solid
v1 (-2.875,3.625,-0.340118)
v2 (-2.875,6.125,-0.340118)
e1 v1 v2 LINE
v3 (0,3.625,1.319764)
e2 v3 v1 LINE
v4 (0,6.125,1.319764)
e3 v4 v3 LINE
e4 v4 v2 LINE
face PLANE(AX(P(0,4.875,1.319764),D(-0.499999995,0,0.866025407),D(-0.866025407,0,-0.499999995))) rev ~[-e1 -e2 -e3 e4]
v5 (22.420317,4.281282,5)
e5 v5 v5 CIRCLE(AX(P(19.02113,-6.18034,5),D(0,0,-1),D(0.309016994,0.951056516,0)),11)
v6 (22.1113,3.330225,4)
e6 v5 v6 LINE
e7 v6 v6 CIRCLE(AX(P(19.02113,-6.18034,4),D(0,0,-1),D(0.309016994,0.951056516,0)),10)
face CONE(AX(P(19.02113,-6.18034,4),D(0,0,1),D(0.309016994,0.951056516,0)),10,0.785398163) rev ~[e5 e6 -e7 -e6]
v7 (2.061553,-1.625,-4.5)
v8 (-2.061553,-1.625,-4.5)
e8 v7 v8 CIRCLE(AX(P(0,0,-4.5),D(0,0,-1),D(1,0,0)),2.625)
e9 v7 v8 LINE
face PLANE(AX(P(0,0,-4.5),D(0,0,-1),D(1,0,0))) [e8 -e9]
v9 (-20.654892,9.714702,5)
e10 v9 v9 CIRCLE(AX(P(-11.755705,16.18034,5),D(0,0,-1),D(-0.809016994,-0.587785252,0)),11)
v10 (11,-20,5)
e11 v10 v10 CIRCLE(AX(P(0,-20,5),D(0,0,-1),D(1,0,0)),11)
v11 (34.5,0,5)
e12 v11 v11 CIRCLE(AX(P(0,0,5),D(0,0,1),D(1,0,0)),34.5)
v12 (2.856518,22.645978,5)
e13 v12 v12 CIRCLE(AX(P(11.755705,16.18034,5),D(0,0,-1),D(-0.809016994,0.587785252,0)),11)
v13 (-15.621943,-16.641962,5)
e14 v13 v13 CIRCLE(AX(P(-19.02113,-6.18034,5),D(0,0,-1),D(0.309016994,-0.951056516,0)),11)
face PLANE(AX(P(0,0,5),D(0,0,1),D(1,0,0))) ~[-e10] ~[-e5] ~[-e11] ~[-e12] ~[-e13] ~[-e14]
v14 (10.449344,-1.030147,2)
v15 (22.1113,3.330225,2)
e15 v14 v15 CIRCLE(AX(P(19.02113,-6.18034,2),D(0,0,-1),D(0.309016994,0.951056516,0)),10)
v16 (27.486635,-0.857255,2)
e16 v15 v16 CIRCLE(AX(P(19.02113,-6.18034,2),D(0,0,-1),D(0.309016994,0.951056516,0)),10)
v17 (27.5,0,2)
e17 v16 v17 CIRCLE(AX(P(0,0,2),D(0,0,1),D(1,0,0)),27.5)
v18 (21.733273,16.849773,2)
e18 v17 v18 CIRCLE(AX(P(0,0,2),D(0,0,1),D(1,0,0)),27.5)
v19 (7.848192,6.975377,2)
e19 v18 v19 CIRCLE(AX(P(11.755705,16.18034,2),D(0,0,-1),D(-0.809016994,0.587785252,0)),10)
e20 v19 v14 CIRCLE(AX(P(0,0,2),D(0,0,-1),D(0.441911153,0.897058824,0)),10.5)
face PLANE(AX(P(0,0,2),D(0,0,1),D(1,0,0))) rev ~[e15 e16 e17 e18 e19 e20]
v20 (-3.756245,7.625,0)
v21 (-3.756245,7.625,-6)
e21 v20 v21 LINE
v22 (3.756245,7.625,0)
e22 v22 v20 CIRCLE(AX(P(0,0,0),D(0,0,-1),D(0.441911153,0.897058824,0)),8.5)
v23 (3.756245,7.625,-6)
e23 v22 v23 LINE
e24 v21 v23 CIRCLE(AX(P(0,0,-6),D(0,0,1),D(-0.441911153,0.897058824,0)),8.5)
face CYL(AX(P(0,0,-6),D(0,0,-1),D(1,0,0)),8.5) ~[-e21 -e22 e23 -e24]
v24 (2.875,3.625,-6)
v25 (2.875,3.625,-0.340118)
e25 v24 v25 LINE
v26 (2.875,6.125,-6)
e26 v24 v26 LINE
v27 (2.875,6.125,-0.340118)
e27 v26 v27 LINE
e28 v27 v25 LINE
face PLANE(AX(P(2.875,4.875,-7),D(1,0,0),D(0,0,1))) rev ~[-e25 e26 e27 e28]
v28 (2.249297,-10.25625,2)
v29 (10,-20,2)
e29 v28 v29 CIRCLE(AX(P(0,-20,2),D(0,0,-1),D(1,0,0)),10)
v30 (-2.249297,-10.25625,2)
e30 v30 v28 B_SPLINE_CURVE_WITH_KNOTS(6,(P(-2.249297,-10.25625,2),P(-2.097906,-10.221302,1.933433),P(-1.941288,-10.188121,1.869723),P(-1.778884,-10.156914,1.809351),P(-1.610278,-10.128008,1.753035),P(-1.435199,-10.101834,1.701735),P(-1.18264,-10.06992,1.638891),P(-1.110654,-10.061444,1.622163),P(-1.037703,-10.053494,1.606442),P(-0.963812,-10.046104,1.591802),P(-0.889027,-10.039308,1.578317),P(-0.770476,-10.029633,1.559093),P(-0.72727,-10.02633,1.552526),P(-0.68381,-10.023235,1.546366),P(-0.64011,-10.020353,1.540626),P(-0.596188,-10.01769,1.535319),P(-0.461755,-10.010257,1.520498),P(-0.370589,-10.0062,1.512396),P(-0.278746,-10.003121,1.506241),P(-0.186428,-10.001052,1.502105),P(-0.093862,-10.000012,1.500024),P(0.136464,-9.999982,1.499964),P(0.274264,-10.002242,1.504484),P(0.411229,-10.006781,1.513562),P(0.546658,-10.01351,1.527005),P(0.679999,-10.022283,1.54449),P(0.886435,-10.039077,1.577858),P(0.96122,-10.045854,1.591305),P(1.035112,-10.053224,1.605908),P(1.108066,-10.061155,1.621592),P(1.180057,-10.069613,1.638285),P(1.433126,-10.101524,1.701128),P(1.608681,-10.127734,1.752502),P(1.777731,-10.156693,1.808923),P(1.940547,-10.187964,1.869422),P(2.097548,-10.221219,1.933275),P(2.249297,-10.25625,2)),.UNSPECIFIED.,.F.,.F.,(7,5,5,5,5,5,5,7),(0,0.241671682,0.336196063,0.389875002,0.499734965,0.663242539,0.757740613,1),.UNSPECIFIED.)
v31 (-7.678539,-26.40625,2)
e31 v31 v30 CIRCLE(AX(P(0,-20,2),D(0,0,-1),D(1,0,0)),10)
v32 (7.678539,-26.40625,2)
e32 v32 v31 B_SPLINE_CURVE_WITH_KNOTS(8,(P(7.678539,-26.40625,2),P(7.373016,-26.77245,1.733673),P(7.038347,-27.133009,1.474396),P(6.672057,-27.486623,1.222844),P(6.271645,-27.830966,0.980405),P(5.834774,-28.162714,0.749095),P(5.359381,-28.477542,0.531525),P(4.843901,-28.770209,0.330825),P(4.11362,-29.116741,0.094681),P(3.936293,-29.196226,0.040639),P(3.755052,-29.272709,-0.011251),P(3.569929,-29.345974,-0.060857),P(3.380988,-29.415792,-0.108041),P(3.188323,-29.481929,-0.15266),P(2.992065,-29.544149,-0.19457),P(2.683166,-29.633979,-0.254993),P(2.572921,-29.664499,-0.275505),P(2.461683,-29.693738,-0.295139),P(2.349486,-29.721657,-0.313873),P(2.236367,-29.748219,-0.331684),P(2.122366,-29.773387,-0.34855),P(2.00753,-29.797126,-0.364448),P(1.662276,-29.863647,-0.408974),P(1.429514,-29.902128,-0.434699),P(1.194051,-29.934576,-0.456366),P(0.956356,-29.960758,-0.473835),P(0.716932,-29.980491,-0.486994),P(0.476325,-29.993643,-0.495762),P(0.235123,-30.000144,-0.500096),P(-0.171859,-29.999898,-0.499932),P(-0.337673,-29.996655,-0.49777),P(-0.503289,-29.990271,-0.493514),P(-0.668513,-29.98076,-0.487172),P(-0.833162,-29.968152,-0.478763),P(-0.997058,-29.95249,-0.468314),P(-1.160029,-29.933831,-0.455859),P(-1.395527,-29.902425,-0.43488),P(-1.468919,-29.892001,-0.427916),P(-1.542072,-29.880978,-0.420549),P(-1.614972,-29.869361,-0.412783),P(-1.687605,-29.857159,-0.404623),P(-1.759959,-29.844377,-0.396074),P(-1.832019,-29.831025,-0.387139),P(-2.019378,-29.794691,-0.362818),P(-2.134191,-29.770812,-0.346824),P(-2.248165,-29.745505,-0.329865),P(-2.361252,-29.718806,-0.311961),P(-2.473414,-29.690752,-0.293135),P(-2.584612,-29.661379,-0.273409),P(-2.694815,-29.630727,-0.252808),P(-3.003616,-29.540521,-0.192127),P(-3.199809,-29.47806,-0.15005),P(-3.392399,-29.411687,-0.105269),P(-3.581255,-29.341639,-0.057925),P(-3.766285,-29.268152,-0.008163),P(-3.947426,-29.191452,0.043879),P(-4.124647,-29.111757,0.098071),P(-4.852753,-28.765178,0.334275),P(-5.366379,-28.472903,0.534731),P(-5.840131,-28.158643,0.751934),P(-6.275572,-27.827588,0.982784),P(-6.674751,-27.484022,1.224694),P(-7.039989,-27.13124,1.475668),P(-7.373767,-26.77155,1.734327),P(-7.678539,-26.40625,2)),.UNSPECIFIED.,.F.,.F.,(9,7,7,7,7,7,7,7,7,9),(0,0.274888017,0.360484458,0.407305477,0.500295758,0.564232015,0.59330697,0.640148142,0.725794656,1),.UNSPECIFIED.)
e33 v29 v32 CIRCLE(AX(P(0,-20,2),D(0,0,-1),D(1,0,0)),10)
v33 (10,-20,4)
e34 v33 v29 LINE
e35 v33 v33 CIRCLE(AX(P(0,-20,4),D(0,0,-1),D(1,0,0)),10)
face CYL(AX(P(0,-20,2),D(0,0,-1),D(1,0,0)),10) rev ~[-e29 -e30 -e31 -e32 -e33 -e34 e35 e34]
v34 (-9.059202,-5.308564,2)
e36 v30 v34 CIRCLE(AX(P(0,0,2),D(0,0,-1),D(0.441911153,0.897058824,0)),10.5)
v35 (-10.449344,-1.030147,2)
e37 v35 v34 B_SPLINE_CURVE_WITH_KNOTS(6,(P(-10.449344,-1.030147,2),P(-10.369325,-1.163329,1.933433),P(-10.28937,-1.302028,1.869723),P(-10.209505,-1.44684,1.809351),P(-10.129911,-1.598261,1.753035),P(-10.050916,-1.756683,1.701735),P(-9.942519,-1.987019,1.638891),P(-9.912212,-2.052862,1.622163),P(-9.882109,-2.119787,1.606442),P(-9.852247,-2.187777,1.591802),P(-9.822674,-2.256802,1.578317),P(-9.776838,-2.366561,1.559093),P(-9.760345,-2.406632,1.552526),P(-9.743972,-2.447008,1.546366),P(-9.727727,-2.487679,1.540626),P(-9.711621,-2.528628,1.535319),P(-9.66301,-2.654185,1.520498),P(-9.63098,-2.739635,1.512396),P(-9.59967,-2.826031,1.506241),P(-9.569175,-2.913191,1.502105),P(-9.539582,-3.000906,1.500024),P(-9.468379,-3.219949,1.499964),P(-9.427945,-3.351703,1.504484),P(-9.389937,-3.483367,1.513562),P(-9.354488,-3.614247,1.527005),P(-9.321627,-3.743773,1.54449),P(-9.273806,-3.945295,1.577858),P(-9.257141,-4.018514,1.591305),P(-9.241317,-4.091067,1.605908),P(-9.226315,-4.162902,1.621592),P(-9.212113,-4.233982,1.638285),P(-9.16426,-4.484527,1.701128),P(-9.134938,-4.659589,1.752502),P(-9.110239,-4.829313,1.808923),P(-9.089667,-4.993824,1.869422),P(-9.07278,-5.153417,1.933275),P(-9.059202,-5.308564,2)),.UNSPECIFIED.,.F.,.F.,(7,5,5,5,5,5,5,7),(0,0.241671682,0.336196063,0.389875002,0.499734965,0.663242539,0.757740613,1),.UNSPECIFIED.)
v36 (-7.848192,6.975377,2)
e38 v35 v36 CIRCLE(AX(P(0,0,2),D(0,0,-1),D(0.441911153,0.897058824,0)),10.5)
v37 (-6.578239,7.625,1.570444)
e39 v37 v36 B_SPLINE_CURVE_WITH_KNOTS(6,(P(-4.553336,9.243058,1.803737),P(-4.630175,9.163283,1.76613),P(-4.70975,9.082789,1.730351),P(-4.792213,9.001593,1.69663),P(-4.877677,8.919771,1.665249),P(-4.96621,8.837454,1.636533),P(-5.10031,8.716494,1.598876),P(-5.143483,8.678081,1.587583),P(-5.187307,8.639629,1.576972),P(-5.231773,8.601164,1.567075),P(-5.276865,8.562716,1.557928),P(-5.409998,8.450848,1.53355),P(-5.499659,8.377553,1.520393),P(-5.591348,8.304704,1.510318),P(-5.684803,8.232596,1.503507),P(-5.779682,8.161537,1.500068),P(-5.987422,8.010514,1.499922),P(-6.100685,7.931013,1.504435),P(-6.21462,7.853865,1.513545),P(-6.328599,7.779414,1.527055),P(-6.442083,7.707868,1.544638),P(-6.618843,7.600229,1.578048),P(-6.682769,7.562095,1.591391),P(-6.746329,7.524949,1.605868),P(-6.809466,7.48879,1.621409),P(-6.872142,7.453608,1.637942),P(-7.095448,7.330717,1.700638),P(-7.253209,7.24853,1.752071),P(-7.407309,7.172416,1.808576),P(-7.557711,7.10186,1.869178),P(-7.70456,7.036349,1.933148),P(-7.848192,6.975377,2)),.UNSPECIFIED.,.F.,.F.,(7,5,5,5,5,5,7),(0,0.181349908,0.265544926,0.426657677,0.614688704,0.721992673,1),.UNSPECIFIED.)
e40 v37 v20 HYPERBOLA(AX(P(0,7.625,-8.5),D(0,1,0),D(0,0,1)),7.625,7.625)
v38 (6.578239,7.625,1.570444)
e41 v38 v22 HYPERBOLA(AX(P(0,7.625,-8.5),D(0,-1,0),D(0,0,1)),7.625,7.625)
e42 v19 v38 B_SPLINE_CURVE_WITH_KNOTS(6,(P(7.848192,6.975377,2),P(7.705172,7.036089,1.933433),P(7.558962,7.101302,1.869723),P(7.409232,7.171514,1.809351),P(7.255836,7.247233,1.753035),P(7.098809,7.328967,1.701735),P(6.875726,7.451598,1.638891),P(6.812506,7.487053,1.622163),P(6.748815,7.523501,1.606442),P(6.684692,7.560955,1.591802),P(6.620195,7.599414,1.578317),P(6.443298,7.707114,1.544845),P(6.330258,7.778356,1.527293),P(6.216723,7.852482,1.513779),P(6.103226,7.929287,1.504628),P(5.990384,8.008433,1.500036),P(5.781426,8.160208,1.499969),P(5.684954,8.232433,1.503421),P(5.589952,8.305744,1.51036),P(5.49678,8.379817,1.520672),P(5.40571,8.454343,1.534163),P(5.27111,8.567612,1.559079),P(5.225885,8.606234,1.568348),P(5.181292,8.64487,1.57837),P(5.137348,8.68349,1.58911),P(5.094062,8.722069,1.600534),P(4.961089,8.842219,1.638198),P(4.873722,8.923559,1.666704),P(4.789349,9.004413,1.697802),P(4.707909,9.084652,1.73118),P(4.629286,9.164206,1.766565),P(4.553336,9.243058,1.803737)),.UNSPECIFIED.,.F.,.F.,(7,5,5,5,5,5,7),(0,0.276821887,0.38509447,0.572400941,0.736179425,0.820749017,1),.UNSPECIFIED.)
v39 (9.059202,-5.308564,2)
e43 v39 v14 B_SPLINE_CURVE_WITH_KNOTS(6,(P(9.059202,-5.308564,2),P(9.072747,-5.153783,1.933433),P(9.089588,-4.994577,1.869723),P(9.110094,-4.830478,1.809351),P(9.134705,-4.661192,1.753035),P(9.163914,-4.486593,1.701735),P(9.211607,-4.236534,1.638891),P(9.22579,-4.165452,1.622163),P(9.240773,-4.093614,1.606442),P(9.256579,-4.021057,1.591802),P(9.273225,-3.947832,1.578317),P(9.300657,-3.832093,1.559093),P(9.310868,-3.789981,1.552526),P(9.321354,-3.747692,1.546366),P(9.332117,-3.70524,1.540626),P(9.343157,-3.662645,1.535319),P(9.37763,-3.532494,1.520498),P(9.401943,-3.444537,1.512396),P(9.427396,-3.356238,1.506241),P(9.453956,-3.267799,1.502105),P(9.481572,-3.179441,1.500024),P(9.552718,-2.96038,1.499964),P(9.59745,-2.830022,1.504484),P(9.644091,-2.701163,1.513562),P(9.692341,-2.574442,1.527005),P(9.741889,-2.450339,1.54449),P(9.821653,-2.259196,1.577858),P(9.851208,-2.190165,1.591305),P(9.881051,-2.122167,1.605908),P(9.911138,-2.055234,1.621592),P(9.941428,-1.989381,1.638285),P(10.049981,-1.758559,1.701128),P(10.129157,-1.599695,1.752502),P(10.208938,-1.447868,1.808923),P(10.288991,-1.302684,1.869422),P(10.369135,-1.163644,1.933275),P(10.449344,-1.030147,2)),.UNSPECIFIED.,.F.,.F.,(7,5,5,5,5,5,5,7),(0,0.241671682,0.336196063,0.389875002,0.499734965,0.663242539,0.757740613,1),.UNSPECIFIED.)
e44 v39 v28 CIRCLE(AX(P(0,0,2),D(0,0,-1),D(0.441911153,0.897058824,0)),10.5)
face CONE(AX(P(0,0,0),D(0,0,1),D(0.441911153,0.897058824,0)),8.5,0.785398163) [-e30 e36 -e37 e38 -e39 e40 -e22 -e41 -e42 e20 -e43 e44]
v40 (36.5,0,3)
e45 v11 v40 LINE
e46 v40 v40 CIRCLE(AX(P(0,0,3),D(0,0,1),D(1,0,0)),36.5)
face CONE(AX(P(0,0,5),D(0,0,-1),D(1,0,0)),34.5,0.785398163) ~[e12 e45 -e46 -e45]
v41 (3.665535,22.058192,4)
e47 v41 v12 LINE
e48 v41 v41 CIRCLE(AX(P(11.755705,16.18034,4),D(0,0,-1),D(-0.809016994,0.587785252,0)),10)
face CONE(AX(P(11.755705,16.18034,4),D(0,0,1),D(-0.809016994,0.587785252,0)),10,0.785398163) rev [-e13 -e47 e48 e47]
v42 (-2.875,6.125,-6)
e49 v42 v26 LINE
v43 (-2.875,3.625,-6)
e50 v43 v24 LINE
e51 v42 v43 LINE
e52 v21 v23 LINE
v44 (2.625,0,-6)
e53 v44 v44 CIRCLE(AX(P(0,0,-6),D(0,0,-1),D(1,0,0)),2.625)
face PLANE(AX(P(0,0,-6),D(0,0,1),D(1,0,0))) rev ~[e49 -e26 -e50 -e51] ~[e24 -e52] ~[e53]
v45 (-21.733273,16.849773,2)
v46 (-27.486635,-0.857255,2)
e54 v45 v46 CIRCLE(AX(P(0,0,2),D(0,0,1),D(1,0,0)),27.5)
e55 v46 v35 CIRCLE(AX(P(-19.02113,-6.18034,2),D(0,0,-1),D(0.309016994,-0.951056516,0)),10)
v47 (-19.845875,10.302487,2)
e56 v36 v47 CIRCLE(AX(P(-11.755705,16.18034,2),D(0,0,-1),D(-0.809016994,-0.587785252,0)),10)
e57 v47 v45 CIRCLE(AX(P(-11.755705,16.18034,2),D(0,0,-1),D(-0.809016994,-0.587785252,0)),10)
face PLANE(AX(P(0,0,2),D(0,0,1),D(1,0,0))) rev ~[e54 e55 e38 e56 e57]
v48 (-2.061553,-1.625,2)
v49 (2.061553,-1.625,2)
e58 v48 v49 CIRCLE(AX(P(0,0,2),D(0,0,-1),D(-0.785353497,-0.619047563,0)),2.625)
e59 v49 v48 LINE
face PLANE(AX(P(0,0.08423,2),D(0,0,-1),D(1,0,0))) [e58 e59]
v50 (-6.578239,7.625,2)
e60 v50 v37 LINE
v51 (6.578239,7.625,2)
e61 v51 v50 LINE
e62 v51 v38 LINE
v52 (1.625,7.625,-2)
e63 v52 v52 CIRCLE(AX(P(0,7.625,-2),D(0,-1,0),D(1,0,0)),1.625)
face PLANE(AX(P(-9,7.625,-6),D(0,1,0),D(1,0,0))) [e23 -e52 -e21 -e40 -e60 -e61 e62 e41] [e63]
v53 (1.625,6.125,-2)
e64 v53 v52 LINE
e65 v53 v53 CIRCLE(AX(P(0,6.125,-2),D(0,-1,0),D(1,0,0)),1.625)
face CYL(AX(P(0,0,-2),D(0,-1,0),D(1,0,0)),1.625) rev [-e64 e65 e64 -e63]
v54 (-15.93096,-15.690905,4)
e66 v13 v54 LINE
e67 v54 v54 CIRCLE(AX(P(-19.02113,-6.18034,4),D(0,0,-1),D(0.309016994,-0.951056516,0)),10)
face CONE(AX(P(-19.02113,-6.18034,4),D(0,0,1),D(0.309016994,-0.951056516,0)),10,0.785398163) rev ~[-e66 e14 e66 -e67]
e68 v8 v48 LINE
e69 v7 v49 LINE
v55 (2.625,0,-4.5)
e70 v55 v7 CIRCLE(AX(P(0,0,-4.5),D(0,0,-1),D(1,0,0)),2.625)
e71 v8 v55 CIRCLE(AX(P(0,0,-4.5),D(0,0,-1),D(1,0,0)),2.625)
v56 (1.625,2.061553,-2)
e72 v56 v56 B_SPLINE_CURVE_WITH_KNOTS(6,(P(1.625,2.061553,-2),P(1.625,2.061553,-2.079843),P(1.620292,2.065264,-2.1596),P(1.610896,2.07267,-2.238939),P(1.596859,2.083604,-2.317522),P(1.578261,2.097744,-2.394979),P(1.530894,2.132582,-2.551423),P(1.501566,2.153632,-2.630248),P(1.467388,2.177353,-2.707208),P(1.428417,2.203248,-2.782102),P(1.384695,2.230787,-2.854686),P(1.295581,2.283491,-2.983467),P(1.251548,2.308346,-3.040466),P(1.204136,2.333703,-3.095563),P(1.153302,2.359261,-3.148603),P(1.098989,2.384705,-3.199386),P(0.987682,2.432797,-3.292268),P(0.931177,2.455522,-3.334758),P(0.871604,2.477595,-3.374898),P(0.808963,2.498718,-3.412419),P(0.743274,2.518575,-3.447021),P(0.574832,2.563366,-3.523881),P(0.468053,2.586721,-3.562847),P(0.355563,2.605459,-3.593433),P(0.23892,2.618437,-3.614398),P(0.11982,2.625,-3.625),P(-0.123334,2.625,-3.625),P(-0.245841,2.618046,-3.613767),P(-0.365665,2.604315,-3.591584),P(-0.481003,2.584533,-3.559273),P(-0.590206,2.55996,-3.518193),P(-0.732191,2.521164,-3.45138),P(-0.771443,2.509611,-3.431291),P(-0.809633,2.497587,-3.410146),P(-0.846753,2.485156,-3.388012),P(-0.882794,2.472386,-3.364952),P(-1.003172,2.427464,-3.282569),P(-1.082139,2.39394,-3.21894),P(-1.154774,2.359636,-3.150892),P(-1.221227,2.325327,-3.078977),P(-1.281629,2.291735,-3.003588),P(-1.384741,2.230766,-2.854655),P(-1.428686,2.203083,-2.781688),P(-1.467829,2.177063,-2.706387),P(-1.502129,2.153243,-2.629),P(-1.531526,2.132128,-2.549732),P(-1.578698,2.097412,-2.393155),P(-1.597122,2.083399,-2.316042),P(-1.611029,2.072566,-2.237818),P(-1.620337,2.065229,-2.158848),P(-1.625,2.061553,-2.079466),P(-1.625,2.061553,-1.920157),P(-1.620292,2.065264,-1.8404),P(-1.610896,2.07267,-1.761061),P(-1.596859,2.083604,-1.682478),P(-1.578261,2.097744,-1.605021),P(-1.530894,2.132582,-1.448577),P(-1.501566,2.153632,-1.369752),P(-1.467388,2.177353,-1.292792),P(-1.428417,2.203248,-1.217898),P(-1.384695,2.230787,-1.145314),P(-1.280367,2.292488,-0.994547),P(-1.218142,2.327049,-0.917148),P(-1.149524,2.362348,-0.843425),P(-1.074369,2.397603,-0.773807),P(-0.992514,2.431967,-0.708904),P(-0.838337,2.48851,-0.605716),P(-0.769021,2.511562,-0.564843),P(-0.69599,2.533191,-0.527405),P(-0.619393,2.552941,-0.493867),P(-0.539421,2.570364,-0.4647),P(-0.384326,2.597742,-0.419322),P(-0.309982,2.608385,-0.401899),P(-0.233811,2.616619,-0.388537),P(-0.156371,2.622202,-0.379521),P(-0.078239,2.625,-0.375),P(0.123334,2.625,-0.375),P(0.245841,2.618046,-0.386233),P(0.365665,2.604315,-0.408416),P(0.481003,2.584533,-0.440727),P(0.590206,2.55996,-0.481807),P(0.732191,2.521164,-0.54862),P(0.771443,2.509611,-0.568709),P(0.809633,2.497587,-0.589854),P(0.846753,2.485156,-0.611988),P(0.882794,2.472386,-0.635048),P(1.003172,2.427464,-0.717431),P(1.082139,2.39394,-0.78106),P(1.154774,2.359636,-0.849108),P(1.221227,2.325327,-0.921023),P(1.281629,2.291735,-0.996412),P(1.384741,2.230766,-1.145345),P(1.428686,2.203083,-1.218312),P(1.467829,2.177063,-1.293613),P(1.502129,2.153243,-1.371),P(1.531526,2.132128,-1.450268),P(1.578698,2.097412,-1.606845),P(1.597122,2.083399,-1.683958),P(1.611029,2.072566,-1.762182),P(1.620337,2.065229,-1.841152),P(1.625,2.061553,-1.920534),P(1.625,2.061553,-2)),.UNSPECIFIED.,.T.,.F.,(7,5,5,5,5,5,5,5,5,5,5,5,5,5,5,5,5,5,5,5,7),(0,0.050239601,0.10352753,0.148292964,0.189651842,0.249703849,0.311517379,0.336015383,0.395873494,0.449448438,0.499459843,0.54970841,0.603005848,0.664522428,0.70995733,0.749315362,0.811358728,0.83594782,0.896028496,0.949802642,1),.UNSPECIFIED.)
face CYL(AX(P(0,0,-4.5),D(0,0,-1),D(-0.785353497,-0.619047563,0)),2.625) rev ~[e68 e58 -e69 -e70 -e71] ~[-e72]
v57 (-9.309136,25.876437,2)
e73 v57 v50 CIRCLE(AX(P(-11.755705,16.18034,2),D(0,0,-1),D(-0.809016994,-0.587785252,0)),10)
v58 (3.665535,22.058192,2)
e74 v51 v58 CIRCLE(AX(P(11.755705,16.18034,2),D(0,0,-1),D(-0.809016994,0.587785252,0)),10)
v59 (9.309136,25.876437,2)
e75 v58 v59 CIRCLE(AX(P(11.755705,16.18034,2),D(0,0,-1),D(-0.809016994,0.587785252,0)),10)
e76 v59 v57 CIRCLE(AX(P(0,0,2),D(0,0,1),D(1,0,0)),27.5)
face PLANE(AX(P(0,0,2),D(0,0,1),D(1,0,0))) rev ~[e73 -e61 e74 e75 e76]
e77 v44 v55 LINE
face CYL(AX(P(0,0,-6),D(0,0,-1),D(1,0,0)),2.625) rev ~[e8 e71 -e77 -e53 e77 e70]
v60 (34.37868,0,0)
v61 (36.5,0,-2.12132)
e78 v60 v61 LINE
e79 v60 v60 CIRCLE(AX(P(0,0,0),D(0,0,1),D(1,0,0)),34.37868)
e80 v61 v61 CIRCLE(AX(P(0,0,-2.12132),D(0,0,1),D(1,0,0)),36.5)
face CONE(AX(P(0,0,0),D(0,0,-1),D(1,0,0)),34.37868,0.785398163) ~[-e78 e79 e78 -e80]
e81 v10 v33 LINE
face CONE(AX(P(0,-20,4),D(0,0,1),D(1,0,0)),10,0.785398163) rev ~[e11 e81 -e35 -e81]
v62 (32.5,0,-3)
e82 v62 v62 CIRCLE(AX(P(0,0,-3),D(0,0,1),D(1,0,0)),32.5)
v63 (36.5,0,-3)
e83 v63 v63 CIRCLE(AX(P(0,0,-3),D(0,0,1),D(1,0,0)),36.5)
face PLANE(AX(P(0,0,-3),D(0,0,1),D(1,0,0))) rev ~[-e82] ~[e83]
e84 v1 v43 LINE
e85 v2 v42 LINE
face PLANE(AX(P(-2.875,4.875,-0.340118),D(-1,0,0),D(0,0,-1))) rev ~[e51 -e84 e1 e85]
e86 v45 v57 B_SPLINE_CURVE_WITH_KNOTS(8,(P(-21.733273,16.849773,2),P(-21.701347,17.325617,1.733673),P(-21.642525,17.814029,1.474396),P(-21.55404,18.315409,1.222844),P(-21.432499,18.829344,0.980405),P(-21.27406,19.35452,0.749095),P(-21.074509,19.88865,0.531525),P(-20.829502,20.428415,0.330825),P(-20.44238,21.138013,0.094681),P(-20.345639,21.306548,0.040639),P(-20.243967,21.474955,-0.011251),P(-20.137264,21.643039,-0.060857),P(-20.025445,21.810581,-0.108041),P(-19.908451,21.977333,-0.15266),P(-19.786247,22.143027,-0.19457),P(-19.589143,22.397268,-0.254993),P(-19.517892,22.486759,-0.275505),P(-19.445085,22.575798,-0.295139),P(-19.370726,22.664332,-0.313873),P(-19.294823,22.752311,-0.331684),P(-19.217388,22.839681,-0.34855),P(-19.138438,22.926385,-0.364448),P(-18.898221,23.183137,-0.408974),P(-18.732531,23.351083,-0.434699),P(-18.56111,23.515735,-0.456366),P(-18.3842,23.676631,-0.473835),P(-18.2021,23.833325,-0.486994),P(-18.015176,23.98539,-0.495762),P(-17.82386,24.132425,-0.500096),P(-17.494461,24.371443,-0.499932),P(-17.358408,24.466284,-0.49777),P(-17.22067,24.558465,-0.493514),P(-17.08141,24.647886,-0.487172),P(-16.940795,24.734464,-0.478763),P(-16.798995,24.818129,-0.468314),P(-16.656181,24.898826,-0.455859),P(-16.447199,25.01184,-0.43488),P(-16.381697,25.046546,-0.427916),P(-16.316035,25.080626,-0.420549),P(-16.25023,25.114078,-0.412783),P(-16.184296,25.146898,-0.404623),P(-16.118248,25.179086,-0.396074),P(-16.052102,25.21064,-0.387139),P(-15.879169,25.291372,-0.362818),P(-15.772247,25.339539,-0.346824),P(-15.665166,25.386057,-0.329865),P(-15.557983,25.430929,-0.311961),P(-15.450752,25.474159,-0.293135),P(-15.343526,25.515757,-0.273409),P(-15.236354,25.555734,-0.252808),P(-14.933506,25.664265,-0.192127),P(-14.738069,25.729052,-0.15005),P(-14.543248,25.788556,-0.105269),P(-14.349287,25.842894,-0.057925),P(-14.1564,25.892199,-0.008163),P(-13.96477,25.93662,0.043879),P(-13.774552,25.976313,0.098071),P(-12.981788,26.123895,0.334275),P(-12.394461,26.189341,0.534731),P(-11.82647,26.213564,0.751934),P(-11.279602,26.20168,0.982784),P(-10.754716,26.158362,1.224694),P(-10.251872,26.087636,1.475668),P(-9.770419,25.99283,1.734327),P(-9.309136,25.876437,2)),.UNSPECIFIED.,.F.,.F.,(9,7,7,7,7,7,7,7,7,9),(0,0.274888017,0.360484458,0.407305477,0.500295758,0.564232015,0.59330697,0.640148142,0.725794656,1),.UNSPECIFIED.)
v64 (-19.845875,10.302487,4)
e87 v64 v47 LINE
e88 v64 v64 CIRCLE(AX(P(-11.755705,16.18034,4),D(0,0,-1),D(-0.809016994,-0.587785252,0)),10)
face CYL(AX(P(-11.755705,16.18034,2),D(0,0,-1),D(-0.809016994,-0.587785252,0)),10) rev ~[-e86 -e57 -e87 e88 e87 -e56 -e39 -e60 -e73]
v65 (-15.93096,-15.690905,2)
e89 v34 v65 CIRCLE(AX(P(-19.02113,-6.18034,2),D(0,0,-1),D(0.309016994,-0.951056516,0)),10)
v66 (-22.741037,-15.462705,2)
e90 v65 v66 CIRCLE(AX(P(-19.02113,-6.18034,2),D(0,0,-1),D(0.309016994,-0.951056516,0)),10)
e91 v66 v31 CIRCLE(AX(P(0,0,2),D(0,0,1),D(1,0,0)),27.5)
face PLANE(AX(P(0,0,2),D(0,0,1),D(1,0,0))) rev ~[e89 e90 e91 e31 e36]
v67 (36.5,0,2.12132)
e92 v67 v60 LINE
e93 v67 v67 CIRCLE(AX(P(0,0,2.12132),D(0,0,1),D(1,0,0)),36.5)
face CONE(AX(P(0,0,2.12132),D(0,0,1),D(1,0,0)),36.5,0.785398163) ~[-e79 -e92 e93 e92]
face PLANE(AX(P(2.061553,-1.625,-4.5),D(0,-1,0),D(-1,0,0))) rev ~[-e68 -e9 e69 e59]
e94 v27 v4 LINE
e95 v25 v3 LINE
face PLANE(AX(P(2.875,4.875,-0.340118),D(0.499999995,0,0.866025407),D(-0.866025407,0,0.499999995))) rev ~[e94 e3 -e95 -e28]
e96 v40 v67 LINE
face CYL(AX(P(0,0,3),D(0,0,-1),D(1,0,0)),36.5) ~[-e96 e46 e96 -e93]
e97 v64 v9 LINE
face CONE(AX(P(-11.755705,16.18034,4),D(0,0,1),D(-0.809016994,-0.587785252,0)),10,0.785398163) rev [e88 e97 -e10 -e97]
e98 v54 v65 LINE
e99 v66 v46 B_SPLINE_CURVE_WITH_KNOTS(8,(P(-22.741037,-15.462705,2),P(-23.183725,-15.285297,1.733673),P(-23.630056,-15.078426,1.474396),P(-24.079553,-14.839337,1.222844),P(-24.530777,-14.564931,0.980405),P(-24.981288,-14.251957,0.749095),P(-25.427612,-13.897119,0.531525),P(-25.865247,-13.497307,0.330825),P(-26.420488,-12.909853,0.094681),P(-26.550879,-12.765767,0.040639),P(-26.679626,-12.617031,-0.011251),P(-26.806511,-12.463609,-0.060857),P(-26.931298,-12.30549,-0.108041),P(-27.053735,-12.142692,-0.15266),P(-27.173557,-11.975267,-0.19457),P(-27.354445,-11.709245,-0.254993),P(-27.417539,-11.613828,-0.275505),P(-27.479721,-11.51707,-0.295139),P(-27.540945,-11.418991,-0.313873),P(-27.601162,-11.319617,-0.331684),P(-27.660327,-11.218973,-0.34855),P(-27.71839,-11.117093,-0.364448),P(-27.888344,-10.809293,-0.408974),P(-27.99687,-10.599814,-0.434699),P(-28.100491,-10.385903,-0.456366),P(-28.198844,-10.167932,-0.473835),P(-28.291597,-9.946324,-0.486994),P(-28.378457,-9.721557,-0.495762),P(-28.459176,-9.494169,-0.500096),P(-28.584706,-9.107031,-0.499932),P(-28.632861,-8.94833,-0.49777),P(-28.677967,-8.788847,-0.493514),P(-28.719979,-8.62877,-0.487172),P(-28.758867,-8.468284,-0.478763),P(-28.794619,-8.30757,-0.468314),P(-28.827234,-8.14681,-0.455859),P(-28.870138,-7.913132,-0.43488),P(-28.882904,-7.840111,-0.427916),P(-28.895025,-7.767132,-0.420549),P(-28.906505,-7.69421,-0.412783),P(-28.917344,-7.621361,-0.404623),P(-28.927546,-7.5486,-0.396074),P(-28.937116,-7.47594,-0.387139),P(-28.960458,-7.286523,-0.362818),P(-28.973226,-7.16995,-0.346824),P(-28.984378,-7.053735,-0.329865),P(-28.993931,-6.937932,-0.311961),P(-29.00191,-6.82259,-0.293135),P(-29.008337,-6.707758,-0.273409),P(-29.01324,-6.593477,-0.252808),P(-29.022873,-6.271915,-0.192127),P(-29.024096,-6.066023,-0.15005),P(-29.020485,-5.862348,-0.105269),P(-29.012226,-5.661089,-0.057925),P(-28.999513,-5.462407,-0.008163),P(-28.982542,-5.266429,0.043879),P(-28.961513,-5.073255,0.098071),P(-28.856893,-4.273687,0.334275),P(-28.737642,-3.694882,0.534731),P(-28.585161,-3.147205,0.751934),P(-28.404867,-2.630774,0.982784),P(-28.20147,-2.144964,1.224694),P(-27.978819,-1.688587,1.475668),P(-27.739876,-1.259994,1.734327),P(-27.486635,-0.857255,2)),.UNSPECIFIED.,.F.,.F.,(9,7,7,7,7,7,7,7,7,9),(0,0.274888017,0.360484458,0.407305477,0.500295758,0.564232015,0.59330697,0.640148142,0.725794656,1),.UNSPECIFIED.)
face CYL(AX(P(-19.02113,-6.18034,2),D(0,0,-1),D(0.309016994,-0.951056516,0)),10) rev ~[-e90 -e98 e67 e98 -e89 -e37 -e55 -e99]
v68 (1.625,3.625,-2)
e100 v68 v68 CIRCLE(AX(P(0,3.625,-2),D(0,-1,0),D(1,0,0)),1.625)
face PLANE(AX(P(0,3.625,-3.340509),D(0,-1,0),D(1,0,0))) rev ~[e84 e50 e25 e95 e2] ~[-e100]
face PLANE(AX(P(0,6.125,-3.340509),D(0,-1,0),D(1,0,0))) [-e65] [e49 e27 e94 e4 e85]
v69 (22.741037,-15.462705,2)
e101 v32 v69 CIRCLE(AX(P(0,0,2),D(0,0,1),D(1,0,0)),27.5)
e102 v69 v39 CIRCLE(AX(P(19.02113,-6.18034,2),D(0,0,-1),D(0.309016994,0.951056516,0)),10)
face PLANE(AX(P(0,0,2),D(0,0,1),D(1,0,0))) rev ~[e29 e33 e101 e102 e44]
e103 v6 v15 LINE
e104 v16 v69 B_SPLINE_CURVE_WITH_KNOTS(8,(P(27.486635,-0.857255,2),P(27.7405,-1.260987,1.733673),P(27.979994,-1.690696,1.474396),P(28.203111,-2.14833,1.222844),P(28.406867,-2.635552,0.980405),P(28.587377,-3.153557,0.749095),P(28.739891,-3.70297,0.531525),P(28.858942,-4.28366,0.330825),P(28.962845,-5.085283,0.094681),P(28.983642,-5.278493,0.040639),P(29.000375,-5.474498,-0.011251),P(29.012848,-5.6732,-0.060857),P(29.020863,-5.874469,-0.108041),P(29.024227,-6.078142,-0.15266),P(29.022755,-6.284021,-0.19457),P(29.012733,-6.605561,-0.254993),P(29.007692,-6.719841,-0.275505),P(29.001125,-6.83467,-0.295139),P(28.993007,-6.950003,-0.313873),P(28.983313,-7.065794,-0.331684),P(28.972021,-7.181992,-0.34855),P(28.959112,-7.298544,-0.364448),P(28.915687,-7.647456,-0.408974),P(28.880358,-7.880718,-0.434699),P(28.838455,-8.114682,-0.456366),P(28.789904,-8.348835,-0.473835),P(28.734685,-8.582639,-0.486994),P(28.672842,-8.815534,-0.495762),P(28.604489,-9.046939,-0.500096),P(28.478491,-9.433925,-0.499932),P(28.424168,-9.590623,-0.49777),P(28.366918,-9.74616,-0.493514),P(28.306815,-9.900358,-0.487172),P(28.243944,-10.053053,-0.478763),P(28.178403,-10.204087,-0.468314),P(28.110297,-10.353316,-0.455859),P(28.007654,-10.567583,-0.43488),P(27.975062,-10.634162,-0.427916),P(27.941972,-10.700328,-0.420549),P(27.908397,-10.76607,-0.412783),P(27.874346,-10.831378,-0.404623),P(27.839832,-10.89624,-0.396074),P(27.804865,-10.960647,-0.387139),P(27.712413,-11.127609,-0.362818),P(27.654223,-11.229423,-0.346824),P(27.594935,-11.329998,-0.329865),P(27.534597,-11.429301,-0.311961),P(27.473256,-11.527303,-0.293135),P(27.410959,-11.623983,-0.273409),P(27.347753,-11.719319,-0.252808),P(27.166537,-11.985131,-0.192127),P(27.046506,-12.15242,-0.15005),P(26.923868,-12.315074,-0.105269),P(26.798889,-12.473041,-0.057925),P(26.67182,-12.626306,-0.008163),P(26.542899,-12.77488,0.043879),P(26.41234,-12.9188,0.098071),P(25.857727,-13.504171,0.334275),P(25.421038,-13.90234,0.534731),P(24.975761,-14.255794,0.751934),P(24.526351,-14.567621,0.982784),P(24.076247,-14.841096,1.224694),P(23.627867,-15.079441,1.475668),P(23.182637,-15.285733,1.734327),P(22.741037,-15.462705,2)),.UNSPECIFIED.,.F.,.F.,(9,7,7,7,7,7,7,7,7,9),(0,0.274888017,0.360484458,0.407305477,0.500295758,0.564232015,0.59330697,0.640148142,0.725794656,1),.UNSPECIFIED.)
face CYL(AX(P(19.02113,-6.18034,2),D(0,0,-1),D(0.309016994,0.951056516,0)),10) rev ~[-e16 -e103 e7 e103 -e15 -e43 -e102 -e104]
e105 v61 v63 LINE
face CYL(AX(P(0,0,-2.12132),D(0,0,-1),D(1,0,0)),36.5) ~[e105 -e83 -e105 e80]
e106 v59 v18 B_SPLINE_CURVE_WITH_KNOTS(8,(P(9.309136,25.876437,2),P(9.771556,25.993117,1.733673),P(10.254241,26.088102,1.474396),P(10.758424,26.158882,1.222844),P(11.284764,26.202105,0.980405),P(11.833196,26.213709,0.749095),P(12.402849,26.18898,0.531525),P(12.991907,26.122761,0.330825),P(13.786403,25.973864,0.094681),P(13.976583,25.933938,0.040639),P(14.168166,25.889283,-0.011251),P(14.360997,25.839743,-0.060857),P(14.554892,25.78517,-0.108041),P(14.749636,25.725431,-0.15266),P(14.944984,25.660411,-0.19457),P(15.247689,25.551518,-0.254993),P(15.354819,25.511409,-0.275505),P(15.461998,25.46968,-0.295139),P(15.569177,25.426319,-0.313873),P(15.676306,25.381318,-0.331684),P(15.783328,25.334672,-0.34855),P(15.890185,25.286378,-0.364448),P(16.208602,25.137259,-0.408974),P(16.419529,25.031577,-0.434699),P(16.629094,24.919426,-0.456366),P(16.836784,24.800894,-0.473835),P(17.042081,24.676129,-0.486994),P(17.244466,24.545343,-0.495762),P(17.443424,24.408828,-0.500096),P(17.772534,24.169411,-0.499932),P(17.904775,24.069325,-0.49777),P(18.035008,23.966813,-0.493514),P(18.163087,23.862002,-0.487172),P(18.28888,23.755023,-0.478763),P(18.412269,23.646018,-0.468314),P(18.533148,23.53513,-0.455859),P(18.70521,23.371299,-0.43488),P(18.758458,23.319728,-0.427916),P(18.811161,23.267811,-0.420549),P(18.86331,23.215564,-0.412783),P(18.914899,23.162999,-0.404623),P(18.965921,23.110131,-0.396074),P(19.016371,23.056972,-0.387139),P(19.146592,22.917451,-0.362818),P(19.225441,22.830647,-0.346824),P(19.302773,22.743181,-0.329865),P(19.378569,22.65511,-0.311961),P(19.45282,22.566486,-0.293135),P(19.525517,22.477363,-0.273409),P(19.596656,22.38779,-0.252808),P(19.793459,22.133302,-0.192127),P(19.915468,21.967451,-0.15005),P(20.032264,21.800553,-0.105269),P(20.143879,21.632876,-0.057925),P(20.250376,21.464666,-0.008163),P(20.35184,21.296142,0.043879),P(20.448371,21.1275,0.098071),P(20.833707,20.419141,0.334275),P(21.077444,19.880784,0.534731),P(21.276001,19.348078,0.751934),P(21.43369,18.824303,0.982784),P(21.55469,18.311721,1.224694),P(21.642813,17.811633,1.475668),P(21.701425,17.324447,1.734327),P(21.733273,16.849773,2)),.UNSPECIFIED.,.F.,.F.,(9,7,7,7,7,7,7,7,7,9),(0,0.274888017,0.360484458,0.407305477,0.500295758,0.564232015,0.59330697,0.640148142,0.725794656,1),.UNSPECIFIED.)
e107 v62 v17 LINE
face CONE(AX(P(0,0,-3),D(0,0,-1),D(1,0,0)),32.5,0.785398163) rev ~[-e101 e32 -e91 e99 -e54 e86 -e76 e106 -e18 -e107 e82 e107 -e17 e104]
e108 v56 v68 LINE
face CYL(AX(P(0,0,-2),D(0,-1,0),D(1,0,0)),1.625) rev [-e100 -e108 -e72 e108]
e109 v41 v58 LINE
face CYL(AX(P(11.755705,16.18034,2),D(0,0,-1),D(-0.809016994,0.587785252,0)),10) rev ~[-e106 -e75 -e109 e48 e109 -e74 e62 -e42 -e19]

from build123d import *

# Parameters (mm, degrees)
CYLINDER001_R          = 1.625
CYLINDER001_DEPTH      = 10
CYLINDER001_ROLL_ANGLE = -90
PAD_DEPTH              = 1.25
CYLINDER_R             = 8.5
CYLINDER_DEPTH         = 10
SKETCH001_R            = 2.625
POCKET_DEPTH           = 1.5
POCKET001_DEPTH        = 6.5
SKETCH004_W            = 18
SKETCH004_H            = 2
POCKET002_DEPTH        = 10.001
CHAMFER_SIZE           = 2
SKETCH005_R            = 10
POCKET003_DEPTH        = 3
POLARPATTERN_COUNT     = 5
CHAMFER001_SIZE        = 1


with BuildPart() as wheelrevolution:
    # Sketch → Revolution (revolve)
    with BuildSketch(Plane.XZ):
        Polygon((34.5, 5), (36.5, 3), (36.5, 2.12132), (34.37868, 0), (36.5, -2.12132), (36.5, -3), (32.5, -3), (27.5, 2), (0, 2), (0, 5), align=None)
    revolve(axis=Axis((0, 0, 0), (0, 0, 1)))


with BuildPart() as wheelshaftscrewcylinder001:
    # Cylinder001 → Cylinder001 (new body)
    with BuildSketch(Plane.XY):
        Circle(CYLINDER001_R)
    extrude(amount=CYLINDER001_DEPTH)


with BuildPart() as wheelshaftscrewcylinder001_1:
    # Cylinder001 roll: moved
    add(wheelshaftscrewcylinder001.part.rotate(Axis((0, 0, 0), (1, 0, 0)), CYLINDER001_ROLL_ANGLE))


with BuildPart() as wheelshaftscrewcylinder001_2:
    # Cylinder001 placement: moved
    add(wheelshaftscrewcylinder001_1.part.moved(Location((0, 0, -2))))


with BuildPart() as wheelshaftnutscrewfusion:
    # Sketch003 → Pad (new body, symmetric)
    with BuildSketch(Plane.XZ):
        Polygon((2.875, -5), (2.875, 1.659882), (0, 3.319764), (-2.875, 1.659882), (-2.875, -5), align=None)
    extrude(amount=PAD_DEPTH, both=True)


with BuildPart() as wheelshaftnutscrewfusion_1:
    # Clone placement: moved
    add(wheelshaftnutscrewfusion.part.moved(Location((0, 4.875, -2))))

    # Fusion: union WheelShaftScrewCylinder001
    add(wheelshaftscrewcylinder001_2.part)


with BuildPart() as wheelcutoutchamfer001_final:
    # Cylinder → Cylinder (new body)
    with BuildSketch(Plane.XY.offset(-6)):
        Circle(CYLINDER_R)
    extrude(amount=CYLINDER_DEPTH)

    # Sketch001 → Pocket (cut)
    with BuildSketch(Plane(origin=(0, 0, -6), x_dir=(1, 0, 0), z_dir=(0, 0, -1))):
        Circle(SKETCH001_R)
    extrude(amount=-POCKET_DEPTH, mode=Mode.SUBTRACT)

    # Sketch002 → Pocket001 (cut)
    with BuildSketch(Plane(origin=(0, 0, -4.5), x_dir=(1, 0, 0), z_dir=(0, 0, -1))):
        with BuildLine():
            ThreePointArc((-2.061553, 1.625), (0, -2.625), (2.061553, 1.625))
            Line((2.061553, 1.625), (-2.061553, 1.625))
        make_face()
    extrude(amount=-POCKET001_DEPTH, mode=Mode.SUBTRACT)

    # Cut: cut WheelShaftNutScrewFusion
    add(wheelshaftnutscrewfusion_1.part, mode=Mode.SUBTRACT)

    # Sketch004 → Pocket002 (cut, through all)
    with BuildSketch(Plane(origin=(0, 0, -6), x_dir=(1, 0, 0), z_dir=(0, 0, -1))):
        with Locations((0, -8.625)):
            Rectangle(SKETCH004_W, SKETCH004_H)
    extrude(amount=-POCKET002_DEPTH, mode=Mode.SUBTRACT)

    # Fusion001: union WheelRevolution
    add(wheelrevolution.part)

    # Chamfer
    chamfer_edges = [wheelcutoutchamfer001_final.edges().sort_by_distance(p)[0] for p in [
        (-4.490096, -7.217274, 2),
    ]]
    chamfer(chamfer_edges, length=CHAMFER_SIZE)

    # Sketch005 → Pocket003 (cut, symmetric)
    with BuildSketch(Plane(origin=(0, 0, 2), x_dir=(1, 0, 0), z_dir=(0, 0, -1))):
        with Locations((0, 20)):
            Circle(SKETCH005_R)
    pocket003 = extrude(amount=POCKET003_DEPTH, both=True, mode=Mode.SUBTRACT)

    # PolarPattern: Pocket003 ×5 about axis
    polarpattern_axis = Axis((0, 0, 2), (0, 0, -1))
    for i in range(1, POLARPATTERN_COUNT):
        add(pocket003.rotate(polarpattern_axis, i * 360 / POLARPATTERN_COUNT), mode=Mode.SUBTRACT)

    # Chamfer001
    chamfer001_edges = [wheelcutoutchamfer001_final.edges().sort_by_distance(p)[0] for p in [
        (19.845875, 10.302487, 5),
        (15.93096, -15.690905, 5),
        (-10, -20, 5),
        (-22.1113, 3.330225, 5),
        (-3.665535, 22.058192, 5),
    ]]
    chamfer(chamfer001_edges, length=CHAMFER001_SIZE)


solid = wheelcutoutchamfer001_final.part
